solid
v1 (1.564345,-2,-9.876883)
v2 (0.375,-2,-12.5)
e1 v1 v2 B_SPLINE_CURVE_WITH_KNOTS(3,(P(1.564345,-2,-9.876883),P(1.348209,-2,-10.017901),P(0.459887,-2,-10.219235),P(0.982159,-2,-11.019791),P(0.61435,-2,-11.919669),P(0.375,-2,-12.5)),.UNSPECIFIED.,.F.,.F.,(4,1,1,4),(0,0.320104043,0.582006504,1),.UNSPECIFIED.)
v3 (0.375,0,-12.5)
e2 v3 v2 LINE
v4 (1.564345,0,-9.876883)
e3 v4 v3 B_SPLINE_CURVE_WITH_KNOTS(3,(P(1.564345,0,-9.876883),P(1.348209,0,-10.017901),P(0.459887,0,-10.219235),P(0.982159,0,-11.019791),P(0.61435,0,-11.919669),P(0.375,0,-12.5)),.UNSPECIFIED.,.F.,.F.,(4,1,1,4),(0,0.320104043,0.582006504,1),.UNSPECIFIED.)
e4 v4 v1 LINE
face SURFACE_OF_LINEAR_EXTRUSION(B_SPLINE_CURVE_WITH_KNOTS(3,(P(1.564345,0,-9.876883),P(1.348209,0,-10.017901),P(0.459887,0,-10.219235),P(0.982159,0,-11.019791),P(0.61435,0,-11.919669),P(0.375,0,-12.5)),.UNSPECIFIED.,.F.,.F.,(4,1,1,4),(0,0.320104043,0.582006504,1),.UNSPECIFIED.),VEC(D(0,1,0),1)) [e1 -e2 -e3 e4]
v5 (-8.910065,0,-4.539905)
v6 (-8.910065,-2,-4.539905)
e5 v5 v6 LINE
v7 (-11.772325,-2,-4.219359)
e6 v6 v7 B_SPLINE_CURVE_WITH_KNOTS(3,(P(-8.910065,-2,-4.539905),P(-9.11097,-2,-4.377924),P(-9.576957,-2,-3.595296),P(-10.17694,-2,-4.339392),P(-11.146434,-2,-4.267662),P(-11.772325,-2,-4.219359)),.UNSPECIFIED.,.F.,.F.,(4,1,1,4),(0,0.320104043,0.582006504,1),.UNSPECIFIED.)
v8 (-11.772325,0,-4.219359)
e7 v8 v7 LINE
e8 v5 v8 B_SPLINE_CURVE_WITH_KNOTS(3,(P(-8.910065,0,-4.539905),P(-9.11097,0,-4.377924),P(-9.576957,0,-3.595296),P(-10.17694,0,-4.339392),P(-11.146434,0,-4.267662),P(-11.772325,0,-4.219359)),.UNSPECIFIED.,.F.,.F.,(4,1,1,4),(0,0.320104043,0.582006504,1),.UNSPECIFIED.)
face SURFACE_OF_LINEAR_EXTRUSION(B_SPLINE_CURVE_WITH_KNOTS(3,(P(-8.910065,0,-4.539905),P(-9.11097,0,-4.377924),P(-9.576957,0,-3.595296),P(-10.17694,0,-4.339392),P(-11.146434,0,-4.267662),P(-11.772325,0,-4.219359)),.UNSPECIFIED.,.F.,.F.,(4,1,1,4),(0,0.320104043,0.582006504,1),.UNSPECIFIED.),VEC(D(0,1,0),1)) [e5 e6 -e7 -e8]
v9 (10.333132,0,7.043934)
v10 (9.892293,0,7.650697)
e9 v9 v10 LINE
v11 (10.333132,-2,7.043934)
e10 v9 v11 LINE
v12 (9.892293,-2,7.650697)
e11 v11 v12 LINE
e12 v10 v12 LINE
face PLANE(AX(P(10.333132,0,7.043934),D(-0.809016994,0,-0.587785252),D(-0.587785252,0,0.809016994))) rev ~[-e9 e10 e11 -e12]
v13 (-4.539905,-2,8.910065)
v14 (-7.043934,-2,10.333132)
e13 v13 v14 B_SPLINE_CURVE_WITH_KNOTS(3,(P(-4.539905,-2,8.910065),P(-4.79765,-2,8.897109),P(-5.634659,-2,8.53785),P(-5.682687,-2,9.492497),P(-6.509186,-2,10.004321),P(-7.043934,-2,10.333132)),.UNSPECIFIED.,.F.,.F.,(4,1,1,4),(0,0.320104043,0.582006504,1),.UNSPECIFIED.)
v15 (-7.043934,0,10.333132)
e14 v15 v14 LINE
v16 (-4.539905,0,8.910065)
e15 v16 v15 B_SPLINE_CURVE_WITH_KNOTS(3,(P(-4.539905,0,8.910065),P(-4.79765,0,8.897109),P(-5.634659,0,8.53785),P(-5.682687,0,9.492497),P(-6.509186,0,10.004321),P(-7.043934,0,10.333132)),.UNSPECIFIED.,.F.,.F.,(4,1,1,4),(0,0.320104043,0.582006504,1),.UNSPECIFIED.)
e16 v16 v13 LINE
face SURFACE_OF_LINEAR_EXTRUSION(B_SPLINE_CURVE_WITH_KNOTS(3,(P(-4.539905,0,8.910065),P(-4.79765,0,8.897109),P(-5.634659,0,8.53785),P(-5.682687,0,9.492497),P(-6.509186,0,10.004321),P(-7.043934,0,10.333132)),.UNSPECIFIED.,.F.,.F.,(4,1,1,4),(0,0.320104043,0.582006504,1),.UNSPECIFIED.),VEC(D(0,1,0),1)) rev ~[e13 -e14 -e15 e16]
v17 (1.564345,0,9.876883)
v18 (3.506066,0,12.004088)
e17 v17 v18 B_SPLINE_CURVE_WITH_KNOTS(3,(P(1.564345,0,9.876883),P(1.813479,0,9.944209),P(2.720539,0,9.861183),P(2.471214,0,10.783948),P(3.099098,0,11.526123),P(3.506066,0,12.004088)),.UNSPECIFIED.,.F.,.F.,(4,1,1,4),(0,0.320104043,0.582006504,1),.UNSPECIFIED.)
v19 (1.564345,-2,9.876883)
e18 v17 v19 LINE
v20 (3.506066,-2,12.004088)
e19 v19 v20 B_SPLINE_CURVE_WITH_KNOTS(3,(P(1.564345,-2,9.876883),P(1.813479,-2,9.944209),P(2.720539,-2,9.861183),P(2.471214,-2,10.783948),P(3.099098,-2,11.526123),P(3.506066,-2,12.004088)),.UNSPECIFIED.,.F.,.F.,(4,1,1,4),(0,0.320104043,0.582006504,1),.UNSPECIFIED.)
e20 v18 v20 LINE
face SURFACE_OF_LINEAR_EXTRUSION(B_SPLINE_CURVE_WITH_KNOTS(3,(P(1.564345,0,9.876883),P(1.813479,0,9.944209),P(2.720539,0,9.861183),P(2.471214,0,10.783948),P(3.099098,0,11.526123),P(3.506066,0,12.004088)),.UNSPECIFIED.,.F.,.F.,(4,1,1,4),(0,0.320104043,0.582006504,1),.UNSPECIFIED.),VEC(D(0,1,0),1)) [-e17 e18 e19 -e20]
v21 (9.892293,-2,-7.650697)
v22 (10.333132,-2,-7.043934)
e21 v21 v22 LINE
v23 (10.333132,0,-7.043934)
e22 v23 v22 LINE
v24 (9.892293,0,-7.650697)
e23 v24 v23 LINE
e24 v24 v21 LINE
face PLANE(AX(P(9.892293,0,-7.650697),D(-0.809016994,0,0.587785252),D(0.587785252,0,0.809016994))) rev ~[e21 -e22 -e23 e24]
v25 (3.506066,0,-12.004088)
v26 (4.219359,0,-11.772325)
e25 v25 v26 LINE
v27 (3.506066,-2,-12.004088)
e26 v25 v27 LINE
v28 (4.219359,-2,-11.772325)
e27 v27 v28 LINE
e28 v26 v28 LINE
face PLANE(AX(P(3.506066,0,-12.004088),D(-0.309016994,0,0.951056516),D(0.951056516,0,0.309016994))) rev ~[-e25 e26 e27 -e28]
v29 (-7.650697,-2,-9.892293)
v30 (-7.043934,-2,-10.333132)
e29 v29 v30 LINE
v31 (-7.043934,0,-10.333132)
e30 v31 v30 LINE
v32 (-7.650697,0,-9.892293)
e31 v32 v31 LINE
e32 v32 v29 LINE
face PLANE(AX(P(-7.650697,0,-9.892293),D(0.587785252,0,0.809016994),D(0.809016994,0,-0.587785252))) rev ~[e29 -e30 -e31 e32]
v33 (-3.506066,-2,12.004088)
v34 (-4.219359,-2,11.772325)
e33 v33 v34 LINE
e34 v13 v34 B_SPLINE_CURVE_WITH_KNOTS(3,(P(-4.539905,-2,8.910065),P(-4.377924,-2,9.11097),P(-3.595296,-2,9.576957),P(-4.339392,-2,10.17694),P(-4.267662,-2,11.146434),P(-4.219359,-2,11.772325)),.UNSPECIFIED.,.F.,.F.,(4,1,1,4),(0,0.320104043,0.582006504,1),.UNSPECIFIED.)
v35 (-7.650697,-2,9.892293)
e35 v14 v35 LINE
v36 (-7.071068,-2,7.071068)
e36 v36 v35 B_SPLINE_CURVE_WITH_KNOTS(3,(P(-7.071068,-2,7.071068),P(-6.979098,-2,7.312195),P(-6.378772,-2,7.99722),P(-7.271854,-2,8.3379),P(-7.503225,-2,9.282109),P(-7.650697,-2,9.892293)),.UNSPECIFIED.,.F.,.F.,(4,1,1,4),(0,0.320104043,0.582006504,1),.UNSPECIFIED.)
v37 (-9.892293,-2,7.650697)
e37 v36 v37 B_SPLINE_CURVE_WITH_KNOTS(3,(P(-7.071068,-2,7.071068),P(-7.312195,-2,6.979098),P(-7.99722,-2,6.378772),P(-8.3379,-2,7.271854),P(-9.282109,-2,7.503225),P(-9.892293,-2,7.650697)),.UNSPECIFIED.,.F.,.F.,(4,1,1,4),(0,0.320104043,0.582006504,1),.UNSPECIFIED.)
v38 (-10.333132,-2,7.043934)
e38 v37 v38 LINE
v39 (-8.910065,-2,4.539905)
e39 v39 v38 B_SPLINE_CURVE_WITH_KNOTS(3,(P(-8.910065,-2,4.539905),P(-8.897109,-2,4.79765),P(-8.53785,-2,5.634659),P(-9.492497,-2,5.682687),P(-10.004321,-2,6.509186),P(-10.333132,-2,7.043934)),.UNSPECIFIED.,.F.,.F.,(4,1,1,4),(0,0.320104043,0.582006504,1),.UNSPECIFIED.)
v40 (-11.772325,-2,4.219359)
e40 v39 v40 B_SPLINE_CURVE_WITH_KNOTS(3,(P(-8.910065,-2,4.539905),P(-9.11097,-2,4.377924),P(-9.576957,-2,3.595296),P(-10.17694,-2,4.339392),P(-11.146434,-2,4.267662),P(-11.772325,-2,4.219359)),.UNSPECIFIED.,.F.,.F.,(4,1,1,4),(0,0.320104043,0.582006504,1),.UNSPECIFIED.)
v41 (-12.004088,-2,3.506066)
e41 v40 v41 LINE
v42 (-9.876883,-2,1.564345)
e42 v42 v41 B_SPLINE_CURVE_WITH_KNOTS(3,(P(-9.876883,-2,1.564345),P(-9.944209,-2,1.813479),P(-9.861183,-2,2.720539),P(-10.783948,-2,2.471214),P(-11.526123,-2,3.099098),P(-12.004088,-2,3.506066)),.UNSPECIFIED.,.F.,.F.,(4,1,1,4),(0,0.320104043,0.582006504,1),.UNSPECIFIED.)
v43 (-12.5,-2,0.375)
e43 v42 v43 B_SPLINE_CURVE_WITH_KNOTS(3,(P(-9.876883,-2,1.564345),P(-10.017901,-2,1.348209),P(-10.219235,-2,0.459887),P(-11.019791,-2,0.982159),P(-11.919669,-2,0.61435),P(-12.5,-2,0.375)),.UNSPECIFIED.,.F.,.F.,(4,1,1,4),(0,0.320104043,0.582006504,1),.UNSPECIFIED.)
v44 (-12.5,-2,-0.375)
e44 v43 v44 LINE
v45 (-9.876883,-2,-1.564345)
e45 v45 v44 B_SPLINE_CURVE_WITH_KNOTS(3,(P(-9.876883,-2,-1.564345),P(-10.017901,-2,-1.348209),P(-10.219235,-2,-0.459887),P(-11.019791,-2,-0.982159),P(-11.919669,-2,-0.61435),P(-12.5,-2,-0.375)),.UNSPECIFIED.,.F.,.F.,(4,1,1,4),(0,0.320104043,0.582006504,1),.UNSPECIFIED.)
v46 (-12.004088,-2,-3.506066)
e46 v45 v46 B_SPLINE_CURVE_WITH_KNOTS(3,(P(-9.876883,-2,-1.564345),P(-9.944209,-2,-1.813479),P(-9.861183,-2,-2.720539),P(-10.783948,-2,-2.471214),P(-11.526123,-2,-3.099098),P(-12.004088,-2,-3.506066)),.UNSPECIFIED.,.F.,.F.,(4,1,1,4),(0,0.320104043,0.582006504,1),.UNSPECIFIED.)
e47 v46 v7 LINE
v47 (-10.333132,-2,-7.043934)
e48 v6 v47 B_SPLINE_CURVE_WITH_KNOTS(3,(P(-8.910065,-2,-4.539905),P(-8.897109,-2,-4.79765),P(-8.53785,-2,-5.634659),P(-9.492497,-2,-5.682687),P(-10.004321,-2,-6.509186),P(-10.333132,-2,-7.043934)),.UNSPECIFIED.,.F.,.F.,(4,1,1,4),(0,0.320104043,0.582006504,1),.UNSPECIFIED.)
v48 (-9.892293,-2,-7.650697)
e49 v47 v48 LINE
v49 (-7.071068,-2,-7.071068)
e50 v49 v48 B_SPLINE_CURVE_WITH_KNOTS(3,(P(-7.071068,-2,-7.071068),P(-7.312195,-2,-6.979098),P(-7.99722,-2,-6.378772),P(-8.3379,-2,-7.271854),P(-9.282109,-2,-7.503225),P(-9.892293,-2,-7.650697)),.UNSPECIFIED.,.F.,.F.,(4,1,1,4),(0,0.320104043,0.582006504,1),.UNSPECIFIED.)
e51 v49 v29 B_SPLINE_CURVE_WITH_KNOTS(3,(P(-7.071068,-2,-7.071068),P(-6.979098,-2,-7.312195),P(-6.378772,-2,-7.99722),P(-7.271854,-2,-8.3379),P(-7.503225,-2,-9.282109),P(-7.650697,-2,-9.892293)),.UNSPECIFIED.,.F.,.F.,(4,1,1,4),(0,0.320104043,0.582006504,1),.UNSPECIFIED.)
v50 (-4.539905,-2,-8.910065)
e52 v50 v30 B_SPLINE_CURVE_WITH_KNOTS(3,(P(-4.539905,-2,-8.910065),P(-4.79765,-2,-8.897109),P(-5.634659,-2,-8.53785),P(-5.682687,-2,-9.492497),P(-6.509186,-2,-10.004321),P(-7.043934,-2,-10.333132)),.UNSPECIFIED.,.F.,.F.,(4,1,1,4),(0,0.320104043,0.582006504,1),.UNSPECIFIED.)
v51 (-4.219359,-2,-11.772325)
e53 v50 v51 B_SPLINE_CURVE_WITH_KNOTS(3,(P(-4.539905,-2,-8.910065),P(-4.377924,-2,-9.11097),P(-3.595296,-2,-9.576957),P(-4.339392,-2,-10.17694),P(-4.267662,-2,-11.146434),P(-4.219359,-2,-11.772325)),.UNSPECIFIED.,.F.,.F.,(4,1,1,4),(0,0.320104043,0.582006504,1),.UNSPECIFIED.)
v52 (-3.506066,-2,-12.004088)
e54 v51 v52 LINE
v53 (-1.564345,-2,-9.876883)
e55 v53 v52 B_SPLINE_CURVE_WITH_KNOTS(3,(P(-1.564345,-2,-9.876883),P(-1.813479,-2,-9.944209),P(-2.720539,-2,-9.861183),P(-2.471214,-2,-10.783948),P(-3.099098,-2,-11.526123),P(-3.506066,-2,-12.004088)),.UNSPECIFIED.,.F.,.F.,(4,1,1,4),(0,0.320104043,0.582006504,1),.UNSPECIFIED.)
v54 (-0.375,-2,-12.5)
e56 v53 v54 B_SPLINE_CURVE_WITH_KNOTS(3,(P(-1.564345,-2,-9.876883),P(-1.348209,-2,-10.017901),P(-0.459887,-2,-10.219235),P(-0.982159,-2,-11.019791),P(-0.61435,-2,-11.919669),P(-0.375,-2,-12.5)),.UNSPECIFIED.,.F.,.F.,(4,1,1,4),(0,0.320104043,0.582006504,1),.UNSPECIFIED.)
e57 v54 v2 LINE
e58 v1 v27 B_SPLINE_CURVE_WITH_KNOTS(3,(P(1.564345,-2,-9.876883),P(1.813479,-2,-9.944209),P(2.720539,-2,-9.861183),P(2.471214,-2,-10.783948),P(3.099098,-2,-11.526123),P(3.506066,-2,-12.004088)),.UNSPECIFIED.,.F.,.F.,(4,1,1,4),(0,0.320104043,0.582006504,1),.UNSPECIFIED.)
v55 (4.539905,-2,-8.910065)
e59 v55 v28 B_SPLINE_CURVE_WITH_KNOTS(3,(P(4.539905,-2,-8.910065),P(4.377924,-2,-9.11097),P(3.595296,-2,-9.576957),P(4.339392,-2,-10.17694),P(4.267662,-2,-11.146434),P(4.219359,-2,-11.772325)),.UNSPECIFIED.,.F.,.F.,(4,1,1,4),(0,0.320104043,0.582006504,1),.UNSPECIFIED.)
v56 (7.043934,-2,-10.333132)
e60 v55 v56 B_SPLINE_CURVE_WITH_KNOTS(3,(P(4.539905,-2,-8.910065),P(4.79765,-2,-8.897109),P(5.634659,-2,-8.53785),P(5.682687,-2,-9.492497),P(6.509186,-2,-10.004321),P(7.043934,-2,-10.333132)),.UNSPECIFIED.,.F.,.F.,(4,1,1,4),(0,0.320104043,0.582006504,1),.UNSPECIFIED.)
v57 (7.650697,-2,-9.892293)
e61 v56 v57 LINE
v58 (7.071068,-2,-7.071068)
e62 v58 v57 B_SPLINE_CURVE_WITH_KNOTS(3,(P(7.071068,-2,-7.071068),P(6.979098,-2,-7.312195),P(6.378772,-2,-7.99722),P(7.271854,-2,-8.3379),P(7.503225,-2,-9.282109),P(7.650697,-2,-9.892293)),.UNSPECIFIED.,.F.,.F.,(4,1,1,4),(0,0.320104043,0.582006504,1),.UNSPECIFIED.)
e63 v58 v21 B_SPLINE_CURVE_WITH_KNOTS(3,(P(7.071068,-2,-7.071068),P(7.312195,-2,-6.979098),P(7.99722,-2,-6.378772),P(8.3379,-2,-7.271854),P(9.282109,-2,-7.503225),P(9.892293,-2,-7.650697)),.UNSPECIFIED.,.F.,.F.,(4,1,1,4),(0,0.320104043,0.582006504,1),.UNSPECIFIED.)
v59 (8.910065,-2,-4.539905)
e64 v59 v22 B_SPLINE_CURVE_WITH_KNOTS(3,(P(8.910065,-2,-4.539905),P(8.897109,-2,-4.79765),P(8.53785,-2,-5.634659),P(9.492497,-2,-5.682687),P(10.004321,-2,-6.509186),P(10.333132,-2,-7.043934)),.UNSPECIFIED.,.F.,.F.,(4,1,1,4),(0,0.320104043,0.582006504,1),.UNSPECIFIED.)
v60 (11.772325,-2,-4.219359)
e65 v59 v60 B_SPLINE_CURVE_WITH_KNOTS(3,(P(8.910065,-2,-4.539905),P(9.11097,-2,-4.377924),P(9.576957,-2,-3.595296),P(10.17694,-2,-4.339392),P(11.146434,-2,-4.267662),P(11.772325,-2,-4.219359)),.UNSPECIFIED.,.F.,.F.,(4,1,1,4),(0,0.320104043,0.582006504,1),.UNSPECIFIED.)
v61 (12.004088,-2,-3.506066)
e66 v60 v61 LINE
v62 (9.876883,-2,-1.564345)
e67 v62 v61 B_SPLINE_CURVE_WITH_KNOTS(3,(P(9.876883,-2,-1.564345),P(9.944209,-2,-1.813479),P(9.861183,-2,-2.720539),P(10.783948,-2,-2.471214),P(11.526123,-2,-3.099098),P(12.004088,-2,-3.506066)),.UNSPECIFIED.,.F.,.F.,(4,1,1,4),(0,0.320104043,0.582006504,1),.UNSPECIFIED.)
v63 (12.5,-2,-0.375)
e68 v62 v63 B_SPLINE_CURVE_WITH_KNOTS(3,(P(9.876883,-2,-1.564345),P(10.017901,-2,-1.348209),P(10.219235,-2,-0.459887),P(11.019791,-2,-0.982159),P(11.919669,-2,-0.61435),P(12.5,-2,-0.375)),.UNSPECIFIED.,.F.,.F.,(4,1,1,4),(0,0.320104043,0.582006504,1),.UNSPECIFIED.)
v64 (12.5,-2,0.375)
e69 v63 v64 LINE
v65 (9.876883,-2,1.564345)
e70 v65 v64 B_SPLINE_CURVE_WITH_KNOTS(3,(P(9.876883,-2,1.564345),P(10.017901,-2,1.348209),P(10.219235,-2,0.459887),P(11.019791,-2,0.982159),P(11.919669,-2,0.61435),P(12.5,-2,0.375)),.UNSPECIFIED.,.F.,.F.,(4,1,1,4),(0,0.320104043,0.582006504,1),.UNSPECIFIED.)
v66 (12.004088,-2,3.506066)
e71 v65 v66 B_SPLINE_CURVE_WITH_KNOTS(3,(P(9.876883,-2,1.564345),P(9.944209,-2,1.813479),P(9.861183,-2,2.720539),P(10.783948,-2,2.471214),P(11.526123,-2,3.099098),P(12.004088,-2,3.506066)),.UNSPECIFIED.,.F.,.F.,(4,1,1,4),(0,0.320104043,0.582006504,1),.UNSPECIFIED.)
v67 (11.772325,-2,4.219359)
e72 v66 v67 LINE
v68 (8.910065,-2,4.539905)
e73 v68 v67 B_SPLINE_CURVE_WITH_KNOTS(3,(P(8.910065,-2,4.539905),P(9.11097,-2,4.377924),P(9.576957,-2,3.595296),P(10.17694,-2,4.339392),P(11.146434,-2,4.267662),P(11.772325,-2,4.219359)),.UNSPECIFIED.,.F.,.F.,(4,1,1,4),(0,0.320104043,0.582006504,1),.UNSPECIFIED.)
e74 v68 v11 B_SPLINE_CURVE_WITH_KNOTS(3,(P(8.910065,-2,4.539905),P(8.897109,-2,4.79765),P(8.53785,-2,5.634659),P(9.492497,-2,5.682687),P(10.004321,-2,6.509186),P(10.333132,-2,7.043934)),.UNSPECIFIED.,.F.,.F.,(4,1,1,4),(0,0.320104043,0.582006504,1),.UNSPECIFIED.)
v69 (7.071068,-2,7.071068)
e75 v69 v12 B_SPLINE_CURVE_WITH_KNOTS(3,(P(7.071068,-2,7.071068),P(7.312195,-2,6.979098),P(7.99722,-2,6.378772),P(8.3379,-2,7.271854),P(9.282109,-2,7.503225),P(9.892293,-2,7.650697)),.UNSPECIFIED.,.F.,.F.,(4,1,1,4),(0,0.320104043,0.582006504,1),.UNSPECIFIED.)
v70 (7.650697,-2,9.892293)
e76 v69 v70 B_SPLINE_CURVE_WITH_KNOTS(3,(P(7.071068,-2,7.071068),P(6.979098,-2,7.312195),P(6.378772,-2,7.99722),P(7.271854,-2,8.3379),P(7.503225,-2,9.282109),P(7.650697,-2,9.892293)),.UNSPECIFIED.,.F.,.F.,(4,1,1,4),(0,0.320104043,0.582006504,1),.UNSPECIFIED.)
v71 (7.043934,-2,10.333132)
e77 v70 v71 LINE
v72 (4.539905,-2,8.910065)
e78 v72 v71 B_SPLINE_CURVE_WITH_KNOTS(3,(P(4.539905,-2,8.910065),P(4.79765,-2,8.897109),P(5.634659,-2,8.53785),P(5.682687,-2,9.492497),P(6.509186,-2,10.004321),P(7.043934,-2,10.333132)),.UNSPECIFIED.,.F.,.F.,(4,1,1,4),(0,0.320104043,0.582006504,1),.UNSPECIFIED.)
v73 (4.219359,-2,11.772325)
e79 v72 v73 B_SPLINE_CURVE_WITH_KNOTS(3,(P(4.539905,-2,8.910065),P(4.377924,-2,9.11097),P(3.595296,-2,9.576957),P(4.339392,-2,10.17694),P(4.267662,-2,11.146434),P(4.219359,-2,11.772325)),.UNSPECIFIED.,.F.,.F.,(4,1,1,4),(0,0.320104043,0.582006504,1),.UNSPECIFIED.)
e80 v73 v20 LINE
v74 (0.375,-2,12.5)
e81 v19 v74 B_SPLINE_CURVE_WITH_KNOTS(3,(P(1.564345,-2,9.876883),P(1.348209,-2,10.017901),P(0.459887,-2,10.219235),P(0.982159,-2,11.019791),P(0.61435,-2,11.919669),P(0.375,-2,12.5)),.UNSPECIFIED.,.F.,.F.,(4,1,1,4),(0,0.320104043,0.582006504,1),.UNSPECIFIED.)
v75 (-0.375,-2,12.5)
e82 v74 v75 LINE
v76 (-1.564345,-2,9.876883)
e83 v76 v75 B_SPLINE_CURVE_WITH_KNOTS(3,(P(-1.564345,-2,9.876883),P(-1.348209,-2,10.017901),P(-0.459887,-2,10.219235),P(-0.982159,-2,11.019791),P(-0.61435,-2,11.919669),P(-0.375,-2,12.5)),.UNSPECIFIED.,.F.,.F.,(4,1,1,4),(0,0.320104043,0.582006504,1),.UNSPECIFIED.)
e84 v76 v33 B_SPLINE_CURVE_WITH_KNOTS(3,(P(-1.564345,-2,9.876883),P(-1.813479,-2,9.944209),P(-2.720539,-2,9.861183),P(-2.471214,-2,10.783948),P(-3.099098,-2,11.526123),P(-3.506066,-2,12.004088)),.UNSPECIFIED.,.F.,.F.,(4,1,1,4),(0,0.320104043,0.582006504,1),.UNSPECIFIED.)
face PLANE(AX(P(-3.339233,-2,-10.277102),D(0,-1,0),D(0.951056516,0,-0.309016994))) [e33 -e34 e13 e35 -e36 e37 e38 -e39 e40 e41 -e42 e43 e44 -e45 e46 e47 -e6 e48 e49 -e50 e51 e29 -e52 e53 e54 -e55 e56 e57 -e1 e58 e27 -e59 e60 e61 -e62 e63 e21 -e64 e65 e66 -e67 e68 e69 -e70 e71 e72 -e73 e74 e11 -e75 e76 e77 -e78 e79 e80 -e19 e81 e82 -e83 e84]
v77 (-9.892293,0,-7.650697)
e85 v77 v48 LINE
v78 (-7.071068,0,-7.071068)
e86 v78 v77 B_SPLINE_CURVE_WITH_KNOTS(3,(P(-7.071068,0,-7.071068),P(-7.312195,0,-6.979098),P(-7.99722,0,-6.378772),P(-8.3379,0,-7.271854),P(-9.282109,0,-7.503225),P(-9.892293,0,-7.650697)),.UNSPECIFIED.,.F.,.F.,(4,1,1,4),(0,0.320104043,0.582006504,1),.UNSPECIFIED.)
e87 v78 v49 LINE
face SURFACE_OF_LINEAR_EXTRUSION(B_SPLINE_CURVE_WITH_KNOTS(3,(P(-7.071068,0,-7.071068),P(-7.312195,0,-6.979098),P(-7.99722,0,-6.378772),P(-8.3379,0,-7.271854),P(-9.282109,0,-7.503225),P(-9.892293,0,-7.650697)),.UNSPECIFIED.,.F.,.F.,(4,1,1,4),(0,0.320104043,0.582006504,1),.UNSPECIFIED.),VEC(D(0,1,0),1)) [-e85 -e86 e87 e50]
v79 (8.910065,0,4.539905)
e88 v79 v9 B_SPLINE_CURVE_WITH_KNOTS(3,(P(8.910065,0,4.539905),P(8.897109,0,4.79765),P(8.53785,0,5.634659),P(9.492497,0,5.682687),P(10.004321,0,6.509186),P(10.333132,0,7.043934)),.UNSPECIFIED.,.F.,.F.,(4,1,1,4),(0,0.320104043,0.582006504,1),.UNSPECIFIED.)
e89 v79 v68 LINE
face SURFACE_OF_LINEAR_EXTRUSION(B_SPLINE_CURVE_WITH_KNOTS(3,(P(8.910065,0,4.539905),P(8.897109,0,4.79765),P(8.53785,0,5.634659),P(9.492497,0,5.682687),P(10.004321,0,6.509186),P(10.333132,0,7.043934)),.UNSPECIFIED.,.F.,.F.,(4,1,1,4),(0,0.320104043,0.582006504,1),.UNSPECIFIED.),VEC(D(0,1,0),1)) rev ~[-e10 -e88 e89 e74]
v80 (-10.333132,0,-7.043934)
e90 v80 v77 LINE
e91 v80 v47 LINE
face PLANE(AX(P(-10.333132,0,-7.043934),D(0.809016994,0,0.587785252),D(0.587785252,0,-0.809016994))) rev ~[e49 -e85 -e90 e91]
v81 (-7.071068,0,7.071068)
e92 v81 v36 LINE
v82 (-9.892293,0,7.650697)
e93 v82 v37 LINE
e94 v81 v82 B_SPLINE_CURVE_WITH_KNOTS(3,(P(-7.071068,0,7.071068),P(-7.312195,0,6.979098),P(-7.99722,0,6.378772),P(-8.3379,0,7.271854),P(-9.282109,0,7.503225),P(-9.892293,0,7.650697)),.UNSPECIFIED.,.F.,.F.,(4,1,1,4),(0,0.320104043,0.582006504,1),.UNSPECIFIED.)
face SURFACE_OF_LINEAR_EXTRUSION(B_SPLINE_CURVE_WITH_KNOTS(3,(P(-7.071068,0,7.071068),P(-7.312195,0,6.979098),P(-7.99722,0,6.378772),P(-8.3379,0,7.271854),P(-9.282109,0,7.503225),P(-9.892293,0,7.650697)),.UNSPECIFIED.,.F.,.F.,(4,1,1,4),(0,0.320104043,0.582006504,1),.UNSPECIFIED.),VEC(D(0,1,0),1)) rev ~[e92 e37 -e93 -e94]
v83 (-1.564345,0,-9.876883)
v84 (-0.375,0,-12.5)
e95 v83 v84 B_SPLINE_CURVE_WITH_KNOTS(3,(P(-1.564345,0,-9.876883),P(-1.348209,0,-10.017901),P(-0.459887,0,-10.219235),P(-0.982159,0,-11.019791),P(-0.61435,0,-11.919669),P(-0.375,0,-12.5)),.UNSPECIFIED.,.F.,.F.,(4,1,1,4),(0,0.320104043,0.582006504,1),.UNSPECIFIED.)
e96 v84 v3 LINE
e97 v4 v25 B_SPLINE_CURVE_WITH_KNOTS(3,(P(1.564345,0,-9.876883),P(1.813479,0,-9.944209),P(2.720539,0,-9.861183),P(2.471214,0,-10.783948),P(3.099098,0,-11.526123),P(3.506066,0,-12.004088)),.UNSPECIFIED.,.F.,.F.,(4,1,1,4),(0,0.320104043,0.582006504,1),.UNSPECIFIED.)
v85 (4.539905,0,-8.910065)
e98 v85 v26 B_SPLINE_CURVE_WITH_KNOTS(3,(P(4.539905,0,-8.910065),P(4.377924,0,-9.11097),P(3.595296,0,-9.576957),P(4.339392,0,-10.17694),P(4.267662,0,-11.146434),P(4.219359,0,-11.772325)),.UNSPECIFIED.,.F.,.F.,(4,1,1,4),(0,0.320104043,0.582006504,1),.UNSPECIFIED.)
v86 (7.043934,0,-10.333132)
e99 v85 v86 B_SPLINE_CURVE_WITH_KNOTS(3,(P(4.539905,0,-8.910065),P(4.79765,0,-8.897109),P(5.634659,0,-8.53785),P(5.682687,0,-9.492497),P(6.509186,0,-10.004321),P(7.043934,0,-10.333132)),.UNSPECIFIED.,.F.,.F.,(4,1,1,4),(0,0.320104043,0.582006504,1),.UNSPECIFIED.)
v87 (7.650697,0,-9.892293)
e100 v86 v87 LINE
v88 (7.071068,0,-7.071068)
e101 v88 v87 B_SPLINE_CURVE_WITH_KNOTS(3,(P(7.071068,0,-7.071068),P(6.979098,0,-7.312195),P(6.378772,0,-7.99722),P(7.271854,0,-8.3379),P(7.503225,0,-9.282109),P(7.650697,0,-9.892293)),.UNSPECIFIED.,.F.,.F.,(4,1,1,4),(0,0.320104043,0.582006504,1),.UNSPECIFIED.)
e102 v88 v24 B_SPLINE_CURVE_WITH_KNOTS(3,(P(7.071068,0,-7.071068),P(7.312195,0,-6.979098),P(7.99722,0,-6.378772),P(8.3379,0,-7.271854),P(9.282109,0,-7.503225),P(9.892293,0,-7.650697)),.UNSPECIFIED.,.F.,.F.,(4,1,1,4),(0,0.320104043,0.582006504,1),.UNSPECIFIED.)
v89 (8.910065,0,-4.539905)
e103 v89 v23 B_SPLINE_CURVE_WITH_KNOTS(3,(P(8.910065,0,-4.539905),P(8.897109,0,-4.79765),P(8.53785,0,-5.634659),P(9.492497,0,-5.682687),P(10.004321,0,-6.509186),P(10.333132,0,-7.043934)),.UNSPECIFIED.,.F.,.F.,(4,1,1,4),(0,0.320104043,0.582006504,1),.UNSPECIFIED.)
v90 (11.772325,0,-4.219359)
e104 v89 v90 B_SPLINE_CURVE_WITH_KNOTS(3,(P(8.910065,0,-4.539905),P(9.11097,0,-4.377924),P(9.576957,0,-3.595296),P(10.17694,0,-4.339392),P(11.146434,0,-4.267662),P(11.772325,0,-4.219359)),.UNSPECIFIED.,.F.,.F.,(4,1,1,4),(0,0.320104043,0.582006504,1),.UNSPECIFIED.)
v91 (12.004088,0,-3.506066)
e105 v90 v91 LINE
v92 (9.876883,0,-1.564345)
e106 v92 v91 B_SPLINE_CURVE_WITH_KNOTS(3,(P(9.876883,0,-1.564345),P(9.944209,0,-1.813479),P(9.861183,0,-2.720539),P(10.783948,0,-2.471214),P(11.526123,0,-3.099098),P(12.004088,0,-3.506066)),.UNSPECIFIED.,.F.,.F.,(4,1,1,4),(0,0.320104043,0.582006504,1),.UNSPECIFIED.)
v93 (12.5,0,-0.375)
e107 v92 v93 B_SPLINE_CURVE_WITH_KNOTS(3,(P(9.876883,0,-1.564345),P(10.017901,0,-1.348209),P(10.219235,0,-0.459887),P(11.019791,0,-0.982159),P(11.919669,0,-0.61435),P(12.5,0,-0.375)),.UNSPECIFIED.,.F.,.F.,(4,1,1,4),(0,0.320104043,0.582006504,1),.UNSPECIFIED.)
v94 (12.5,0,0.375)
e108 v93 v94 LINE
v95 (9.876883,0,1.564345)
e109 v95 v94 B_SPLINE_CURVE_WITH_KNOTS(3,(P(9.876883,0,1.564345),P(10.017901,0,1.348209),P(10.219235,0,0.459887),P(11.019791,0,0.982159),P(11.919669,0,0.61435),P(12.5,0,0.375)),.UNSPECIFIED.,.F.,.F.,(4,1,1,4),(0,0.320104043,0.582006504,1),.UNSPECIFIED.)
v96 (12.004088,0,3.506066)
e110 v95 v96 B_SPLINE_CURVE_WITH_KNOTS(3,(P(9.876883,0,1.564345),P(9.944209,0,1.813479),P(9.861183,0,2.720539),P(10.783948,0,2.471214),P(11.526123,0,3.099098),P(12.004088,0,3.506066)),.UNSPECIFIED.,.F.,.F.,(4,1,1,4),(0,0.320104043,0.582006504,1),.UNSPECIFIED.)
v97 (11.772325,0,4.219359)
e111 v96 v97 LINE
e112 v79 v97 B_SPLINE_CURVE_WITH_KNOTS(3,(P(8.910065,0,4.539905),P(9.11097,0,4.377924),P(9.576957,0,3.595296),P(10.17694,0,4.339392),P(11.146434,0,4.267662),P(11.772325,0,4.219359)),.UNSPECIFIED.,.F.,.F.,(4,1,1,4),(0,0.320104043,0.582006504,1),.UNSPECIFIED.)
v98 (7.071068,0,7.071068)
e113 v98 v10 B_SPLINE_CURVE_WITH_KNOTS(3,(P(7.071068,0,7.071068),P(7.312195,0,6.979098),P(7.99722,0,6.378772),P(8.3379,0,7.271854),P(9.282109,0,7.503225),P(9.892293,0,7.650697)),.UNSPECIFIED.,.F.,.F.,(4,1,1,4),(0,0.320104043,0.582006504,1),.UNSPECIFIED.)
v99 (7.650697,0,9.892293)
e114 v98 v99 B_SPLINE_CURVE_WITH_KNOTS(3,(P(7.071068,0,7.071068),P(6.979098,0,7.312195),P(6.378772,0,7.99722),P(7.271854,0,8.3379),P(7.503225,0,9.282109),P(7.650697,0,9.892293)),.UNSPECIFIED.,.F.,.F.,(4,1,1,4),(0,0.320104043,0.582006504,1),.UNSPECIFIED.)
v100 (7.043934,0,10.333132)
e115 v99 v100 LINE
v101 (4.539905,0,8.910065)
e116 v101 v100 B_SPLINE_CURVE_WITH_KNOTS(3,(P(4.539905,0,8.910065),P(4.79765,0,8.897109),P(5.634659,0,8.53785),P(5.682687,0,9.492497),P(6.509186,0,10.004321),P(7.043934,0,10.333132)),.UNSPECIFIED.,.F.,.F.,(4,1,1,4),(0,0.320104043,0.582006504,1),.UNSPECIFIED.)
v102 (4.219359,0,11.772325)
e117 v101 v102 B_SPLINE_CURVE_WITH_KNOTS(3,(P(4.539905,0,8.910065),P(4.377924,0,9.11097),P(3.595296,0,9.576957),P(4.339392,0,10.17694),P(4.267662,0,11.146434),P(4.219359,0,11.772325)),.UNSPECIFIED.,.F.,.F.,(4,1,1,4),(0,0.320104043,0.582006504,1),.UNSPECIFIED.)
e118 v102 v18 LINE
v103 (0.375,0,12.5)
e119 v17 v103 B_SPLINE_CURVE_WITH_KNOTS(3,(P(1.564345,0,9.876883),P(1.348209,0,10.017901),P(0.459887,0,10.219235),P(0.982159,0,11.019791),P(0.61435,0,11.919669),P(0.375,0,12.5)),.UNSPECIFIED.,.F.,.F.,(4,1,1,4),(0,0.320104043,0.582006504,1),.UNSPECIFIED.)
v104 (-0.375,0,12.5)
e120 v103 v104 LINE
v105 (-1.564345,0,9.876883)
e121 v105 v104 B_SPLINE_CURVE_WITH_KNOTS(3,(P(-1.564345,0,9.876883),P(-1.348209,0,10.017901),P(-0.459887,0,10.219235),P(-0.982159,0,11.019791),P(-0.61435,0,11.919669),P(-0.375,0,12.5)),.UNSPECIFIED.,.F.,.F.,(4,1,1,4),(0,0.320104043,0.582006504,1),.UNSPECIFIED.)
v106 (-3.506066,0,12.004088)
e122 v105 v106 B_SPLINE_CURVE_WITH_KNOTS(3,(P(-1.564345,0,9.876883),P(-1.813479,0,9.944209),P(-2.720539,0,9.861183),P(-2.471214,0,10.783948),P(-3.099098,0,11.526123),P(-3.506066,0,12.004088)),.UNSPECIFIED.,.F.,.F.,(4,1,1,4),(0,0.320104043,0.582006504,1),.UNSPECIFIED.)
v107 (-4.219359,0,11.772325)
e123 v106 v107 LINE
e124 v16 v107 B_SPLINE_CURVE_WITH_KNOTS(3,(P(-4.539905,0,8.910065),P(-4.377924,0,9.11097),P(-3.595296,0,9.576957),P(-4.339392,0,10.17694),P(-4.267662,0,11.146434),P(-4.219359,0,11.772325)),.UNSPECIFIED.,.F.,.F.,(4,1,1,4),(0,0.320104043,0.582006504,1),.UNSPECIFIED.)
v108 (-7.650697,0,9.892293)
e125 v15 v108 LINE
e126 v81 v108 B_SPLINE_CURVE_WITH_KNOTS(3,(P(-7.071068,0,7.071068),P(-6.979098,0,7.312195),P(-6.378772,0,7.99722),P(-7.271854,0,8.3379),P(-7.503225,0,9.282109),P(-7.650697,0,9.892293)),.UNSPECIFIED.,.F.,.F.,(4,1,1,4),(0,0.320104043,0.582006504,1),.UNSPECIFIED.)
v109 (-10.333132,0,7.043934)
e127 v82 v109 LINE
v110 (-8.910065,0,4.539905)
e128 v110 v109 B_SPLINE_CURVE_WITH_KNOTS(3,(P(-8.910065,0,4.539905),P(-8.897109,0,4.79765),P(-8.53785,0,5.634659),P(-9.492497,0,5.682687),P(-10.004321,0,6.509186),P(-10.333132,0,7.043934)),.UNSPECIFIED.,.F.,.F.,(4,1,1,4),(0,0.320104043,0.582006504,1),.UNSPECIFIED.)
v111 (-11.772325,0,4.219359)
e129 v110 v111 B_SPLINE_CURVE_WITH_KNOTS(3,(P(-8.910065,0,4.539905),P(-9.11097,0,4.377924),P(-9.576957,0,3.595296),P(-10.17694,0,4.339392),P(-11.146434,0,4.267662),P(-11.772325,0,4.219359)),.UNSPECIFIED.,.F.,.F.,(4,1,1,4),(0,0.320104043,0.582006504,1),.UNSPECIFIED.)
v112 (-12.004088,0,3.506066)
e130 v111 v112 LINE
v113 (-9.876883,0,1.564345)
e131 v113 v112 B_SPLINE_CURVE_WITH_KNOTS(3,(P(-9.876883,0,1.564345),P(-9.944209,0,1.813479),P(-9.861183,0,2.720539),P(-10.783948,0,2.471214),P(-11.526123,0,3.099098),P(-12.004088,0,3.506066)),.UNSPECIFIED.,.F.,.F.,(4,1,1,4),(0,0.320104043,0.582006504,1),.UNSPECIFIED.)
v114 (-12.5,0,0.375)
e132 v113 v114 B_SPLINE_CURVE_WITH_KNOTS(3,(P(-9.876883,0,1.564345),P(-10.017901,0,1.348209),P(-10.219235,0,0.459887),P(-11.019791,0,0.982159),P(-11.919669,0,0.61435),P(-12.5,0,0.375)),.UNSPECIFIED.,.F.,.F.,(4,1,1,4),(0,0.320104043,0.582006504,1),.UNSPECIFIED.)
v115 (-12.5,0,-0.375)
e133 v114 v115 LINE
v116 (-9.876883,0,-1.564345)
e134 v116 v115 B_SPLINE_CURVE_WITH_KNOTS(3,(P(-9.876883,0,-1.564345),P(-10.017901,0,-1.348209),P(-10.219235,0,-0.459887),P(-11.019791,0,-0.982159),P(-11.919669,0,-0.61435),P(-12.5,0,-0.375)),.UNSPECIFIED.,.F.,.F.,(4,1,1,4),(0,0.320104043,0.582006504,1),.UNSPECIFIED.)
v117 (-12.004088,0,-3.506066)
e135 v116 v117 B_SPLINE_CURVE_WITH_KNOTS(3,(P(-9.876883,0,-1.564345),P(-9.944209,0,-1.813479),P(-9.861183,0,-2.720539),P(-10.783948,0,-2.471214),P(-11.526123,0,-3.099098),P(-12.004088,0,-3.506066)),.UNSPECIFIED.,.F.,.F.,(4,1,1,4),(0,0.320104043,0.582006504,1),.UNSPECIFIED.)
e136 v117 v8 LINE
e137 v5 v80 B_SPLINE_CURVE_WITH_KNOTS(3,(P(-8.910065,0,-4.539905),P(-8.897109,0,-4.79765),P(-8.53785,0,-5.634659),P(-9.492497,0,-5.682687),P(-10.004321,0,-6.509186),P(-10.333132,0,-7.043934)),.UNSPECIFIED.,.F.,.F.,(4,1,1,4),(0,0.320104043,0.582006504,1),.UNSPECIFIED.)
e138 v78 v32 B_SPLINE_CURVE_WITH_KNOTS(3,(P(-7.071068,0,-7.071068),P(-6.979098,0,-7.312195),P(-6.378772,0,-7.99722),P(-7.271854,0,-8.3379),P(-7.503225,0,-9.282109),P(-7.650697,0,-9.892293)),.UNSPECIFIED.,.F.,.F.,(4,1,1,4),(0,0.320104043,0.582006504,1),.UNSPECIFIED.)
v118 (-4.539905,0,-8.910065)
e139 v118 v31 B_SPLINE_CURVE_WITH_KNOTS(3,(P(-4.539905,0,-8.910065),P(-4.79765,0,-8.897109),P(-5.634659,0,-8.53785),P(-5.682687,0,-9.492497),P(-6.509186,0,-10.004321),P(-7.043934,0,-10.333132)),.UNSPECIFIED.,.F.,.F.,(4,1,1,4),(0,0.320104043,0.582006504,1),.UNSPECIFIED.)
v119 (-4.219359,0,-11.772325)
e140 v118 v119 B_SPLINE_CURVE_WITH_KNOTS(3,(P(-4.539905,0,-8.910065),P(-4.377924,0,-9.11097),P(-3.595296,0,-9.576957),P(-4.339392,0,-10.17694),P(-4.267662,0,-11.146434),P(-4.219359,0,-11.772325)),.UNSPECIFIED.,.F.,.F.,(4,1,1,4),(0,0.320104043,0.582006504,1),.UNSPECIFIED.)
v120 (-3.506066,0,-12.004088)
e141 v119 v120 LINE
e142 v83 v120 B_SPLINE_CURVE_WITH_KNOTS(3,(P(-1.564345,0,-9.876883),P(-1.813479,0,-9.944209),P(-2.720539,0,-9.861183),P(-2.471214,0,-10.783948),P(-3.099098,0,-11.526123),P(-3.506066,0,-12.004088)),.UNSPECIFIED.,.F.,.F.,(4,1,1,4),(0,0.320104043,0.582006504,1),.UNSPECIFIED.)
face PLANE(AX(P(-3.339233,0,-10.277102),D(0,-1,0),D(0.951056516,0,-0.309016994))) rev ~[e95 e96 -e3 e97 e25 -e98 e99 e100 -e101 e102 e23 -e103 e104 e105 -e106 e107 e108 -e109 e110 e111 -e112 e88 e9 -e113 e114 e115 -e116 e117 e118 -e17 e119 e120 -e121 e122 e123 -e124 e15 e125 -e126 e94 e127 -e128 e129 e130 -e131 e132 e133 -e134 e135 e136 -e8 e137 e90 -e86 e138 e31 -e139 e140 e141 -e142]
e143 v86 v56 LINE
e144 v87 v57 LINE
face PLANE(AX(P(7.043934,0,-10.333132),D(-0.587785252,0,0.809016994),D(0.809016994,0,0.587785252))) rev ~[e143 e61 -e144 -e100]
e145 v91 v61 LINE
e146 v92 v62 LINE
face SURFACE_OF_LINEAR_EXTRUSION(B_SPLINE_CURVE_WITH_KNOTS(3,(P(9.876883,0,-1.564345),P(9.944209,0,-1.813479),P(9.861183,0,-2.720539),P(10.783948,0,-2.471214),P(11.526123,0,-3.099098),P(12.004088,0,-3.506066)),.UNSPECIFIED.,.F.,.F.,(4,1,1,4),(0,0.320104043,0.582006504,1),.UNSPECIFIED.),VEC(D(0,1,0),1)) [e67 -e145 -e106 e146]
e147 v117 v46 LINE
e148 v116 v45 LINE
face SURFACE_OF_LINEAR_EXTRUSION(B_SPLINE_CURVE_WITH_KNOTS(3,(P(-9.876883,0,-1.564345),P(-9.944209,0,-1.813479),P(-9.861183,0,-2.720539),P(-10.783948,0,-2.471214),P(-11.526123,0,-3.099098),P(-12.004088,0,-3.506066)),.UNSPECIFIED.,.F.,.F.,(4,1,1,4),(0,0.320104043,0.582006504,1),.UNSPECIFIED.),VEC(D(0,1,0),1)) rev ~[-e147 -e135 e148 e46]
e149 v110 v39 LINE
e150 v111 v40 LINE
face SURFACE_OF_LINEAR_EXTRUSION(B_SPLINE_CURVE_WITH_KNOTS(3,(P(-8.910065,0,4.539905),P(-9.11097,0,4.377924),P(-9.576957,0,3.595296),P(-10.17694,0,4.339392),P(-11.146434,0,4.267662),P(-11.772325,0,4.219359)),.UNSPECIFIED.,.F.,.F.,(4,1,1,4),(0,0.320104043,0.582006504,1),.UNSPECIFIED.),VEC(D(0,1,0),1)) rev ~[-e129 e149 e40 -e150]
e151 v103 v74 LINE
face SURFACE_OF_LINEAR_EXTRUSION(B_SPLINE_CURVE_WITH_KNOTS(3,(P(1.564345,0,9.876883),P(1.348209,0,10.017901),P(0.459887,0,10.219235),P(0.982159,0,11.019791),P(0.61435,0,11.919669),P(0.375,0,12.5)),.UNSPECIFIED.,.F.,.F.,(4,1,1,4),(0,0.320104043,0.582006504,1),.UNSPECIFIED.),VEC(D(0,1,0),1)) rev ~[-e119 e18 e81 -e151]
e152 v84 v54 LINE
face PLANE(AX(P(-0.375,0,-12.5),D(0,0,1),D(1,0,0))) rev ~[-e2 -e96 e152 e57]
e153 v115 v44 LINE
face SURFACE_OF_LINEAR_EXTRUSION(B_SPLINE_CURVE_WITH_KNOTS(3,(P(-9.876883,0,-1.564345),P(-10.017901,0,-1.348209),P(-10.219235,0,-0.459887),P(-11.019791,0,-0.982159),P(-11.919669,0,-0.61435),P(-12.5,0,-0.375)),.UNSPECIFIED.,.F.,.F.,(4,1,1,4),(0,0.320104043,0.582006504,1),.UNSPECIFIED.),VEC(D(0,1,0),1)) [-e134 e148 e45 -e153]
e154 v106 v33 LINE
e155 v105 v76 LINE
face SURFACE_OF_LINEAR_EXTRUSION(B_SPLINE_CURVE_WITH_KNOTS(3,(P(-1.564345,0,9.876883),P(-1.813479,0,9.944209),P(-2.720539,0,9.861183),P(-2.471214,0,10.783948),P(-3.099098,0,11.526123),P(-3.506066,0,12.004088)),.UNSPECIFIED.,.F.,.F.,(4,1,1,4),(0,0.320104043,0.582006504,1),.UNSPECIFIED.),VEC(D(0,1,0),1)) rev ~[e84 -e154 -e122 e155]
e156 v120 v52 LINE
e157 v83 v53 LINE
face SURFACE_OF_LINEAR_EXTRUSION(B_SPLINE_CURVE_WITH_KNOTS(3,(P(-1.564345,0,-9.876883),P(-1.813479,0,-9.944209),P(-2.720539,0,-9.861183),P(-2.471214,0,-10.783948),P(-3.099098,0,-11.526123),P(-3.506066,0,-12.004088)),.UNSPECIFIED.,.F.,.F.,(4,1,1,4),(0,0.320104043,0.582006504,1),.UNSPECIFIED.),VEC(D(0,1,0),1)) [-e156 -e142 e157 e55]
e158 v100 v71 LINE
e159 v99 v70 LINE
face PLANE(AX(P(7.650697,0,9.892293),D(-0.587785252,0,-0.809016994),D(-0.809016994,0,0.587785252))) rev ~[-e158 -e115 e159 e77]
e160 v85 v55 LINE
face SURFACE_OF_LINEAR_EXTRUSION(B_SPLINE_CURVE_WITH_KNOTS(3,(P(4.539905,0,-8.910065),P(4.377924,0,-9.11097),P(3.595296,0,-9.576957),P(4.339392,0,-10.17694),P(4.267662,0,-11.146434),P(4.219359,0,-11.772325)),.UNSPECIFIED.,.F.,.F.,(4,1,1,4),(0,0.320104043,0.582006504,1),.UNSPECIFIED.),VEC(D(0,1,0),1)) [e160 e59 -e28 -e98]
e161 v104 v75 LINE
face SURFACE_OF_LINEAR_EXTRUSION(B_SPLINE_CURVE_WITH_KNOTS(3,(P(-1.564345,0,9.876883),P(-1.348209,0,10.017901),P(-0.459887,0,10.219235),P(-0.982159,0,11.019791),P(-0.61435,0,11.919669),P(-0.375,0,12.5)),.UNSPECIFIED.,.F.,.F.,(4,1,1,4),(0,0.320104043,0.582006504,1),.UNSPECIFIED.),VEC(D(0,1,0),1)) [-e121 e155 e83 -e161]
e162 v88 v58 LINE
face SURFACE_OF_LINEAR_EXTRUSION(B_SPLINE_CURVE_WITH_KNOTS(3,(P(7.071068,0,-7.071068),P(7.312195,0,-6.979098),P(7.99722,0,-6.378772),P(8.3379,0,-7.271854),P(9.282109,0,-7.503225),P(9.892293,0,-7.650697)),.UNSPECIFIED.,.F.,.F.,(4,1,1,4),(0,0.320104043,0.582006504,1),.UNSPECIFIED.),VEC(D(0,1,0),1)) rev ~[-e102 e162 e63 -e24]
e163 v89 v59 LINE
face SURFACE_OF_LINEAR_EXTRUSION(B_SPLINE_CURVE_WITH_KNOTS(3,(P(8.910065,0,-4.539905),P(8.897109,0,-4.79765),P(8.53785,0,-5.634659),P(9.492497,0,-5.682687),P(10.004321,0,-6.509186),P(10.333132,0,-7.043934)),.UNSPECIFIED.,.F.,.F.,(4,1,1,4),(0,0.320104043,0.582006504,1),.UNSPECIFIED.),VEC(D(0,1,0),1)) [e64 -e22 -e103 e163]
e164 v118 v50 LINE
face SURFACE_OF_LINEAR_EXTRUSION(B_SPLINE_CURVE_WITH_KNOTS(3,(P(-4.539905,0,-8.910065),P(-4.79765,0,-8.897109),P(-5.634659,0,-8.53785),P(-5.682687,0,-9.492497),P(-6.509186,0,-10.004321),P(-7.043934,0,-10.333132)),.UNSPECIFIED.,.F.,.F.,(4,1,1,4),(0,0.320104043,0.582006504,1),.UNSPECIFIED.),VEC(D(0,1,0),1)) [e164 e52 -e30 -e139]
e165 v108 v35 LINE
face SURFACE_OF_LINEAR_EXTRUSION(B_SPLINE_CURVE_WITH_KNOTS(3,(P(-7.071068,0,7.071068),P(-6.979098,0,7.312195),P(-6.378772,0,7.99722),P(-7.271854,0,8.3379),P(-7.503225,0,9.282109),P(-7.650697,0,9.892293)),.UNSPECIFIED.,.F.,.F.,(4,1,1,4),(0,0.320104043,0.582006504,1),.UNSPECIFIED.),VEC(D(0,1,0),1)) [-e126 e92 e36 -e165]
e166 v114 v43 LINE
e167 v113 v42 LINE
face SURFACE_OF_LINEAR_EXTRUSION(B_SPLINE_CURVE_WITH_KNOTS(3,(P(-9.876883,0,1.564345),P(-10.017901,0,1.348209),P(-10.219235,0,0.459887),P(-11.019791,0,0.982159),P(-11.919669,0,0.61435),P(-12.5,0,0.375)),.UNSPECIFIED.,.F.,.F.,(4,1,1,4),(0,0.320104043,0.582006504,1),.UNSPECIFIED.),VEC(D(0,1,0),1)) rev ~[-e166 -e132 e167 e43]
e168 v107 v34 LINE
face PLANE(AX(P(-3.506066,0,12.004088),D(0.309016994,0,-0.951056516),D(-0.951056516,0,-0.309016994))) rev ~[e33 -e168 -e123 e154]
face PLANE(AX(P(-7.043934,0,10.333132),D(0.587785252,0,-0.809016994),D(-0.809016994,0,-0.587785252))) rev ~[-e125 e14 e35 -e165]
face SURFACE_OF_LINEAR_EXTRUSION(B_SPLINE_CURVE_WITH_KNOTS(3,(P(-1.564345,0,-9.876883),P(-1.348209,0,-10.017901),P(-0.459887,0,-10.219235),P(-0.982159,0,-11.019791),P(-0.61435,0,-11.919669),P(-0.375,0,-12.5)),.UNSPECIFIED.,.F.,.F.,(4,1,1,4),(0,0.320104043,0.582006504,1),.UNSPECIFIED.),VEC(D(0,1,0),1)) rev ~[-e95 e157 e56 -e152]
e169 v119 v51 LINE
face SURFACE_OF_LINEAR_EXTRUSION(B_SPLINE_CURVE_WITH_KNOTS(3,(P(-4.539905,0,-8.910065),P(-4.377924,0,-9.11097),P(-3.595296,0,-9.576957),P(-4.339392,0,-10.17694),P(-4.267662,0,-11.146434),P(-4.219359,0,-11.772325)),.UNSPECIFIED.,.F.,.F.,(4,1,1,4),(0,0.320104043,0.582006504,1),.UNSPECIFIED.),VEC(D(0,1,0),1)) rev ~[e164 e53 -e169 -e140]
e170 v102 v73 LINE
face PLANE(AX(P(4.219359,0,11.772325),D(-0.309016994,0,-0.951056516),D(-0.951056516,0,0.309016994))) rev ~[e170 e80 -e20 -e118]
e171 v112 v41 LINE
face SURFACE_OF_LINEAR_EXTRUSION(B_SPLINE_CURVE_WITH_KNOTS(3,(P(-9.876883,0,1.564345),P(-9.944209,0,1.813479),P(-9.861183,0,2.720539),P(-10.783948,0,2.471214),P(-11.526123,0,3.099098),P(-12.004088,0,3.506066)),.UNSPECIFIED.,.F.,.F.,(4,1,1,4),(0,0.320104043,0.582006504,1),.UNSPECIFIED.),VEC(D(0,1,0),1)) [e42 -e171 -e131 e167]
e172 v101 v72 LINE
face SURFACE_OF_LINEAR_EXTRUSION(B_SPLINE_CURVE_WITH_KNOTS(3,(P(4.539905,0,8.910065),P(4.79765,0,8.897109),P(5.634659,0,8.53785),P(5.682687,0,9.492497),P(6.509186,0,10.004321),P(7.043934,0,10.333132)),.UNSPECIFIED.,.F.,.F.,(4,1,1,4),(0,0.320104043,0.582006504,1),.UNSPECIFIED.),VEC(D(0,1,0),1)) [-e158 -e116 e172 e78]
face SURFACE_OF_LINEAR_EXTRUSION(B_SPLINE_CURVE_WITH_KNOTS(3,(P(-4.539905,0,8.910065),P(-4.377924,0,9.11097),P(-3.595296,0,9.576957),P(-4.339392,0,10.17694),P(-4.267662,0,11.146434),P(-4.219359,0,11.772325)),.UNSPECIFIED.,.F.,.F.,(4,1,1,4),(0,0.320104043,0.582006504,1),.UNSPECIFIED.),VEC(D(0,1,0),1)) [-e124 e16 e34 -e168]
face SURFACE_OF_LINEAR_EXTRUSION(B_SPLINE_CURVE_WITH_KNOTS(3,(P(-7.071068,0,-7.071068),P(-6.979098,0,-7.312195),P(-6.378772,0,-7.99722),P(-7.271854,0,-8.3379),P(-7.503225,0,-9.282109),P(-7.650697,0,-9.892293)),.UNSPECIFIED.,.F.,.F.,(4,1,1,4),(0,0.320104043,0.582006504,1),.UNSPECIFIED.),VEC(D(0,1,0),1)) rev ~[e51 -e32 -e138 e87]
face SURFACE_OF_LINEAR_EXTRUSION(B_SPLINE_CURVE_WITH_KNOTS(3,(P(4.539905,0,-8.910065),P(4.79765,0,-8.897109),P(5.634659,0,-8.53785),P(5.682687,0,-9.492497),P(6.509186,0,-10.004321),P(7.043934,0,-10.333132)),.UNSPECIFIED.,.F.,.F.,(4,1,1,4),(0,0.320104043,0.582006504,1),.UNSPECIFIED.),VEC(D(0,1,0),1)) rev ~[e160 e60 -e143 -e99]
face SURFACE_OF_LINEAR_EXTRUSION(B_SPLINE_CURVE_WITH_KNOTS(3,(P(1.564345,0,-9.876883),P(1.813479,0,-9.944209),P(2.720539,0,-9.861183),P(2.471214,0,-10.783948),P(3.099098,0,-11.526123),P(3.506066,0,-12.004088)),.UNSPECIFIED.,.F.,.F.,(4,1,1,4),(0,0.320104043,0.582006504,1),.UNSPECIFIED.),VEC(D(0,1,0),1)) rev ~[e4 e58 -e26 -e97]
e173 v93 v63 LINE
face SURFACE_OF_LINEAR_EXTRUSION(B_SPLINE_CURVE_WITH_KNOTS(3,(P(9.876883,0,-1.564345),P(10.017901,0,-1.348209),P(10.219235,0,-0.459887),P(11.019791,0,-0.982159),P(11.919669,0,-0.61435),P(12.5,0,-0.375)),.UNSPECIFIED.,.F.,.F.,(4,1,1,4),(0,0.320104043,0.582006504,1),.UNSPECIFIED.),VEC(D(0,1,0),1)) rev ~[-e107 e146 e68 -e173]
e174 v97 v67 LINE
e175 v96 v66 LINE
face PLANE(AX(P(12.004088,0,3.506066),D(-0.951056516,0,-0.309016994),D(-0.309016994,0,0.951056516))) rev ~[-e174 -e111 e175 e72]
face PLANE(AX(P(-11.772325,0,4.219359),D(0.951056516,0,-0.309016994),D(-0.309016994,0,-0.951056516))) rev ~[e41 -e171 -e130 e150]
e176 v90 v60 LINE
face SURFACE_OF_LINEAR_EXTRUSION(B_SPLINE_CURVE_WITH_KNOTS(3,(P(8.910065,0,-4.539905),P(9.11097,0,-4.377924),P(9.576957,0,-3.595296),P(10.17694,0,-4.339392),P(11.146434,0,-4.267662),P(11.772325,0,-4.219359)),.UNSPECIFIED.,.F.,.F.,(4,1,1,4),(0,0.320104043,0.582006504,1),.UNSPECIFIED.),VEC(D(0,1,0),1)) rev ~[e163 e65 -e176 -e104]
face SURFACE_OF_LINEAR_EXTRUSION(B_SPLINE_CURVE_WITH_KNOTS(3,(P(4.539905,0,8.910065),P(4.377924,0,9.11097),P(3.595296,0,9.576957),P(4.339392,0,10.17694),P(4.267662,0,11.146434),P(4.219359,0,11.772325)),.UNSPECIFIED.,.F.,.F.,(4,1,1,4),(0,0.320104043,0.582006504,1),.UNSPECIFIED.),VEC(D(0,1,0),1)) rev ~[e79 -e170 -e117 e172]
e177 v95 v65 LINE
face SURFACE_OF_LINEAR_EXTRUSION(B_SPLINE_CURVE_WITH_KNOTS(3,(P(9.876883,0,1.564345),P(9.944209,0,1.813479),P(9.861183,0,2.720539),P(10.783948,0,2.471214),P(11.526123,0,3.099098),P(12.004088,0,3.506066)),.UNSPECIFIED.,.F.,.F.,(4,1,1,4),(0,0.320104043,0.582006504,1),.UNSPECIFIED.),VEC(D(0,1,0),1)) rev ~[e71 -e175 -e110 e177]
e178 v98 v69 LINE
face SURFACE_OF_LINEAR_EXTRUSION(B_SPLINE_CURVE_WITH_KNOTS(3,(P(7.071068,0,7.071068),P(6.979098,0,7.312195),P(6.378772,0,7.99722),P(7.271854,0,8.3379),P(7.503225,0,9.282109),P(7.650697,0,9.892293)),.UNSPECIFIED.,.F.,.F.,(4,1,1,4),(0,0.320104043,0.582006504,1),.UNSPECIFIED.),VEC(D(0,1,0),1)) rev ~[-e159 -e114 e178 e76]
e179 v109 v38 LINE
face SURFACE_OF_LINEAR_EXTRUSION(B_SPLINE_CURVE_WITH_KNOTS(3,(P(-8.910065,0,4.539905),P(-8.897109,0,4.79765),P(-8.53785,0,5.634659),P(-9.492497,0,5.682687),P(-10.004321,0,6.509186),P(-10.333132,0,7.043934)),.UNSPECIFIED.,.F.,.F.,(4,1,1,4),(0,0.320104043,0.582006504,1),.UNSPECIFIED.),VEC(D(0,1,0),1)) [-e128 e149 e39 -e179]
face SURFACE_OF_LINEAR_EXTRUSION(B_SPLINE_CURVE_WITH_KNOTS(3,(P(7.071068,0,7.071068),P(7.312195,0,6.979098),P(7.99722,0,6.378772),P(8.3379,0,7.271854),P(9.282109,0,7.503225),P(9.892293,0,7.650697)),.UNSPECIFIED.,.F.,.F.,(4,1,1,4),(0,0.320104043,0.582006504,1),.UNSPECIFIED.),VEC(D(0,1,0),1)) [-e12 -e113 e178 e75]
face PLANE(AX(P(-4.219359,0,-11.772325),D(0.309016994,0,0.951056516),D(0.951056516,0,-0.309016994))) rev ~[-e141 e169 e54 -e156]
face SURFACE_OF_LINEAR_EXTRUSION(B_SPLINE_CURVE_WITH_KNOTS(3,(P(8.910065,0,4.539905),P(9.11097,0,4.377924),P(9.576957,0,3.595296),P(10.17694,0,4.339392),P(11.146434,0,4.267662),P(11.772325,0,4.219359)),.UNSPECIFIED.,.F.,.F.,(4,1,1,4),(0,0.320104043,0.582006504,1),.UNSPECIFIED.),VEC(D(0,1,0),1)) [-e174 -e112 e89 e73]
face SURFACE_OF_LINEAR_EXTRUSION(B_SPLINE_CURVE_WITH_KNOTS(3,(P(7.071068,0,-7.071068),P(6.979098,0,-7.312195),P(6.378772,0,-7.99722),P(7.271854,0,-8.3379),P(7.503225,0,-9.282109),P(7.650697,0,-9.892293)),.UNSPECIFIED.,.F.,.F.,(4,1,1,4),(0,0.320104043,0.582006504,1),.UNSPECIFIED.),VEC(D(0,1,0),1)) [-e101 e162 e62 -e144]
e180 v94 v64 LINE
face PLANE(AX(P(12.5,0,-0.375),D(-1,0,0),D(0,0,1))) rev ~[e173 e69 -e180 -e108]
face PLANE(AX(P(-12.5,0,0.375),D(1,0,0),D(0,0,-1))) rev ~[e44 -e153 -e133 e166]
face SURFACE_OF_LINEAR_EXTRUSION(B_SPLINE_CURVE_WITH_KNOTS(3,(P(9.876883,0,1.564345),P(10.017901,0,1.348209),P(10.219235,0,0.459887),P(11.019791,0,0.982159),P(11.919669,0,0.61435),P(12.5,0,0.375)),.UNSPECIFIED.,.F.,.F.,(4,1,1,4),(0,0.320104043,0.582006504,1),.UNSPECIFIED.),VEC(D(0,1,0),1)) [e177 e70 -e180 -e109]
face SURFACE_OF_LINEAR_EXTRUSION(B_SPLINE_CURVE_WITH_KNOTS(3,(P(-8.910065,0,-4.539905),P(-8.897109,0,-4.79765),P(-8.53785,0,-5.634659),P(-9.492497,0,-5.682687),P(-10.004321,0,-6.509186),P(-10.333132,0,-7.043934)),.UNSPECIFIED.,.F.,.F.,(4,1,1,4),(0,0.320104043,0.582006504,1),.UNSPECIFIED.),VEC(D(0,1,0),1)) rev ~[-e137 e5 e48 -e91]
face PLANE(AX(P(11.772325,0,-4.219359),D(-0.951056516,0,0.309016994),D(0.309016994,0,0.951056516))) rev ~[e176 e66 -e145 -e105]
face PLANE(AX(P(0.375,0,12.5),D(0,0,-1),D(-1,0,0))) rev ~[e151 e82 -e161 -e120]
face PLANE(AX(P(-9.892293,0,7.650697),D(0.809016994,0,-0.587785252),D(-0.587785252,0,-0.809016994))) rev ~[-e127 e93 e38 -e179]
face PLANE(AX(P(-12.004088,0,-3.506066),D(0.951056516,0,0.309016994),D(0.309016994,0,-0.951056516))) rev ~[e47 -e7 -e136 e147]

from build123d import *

# Parameters (mm, degrees)
F0_R     = 10
F1_DEPTH = 2
F3_DEPTH = 2
F5_COUNT = 20


with BuildPart() as f1:
    # F0 (on Front) → F1 (new body)
    with BuildSketch(Plane.XZ):
        Circle(F0_R)
    extrude(amount=F1_DEPTH)



with BuildPart() as f3:
    # F2 (on Front) → F3 (new body)
    with BuildSketch(Plane.XZ):
        with BuildLine():
            ThreePointArc((1.5643446504, -9.876883406), (0, -10), (-1.5643446504, -9.876883406))
            add(Edge.make_bspline(
                [(-1.5643446504, -9.876883406), (-1.3482088209, -10.0179007419), (-0.4598869792, -10.2192351032), (-0.982159307, -11.0197913813), (-0.6143502542, -11.9196688756), (-0.375, -12.5)],
                knots=[0, 0, 0, 0, 0.3201040428, 0.582006504, 1, 1, 1, 1], degree=3))
            Line((-0.375, -12.5), (0.375, -12.5))
            add(Edge.make_bspline(
                [(1.5643446504, -9.876883406), (1.3482088209, -10.0179007419), (0.4598869792, -10.2192351032), (0.982159307, -11.0197913813), (0.6143502542, -11.9196688756), (0.375, -12.5)],
                knots=[0, 0, 0, 0, 0.3201040428, 0.582006504, 1, 1, 1, 1], degree=3))
        make_face()
    extrude(amount=F3_DEPTH)


with BuildPart() as f1_1:
    add(f1.part)

    add(f3.part)  # F5 merges F3
    # F5: F3 ×20 about axis
    f5_axis = Axis((0, -5.7404395193, 0), (0, -1, 0))
    for i in range(1, F5_COUNT):
        add(f3.part.rotate(f5_axis, i * 360 / F5_COUNT))


solid = f1_1.part
